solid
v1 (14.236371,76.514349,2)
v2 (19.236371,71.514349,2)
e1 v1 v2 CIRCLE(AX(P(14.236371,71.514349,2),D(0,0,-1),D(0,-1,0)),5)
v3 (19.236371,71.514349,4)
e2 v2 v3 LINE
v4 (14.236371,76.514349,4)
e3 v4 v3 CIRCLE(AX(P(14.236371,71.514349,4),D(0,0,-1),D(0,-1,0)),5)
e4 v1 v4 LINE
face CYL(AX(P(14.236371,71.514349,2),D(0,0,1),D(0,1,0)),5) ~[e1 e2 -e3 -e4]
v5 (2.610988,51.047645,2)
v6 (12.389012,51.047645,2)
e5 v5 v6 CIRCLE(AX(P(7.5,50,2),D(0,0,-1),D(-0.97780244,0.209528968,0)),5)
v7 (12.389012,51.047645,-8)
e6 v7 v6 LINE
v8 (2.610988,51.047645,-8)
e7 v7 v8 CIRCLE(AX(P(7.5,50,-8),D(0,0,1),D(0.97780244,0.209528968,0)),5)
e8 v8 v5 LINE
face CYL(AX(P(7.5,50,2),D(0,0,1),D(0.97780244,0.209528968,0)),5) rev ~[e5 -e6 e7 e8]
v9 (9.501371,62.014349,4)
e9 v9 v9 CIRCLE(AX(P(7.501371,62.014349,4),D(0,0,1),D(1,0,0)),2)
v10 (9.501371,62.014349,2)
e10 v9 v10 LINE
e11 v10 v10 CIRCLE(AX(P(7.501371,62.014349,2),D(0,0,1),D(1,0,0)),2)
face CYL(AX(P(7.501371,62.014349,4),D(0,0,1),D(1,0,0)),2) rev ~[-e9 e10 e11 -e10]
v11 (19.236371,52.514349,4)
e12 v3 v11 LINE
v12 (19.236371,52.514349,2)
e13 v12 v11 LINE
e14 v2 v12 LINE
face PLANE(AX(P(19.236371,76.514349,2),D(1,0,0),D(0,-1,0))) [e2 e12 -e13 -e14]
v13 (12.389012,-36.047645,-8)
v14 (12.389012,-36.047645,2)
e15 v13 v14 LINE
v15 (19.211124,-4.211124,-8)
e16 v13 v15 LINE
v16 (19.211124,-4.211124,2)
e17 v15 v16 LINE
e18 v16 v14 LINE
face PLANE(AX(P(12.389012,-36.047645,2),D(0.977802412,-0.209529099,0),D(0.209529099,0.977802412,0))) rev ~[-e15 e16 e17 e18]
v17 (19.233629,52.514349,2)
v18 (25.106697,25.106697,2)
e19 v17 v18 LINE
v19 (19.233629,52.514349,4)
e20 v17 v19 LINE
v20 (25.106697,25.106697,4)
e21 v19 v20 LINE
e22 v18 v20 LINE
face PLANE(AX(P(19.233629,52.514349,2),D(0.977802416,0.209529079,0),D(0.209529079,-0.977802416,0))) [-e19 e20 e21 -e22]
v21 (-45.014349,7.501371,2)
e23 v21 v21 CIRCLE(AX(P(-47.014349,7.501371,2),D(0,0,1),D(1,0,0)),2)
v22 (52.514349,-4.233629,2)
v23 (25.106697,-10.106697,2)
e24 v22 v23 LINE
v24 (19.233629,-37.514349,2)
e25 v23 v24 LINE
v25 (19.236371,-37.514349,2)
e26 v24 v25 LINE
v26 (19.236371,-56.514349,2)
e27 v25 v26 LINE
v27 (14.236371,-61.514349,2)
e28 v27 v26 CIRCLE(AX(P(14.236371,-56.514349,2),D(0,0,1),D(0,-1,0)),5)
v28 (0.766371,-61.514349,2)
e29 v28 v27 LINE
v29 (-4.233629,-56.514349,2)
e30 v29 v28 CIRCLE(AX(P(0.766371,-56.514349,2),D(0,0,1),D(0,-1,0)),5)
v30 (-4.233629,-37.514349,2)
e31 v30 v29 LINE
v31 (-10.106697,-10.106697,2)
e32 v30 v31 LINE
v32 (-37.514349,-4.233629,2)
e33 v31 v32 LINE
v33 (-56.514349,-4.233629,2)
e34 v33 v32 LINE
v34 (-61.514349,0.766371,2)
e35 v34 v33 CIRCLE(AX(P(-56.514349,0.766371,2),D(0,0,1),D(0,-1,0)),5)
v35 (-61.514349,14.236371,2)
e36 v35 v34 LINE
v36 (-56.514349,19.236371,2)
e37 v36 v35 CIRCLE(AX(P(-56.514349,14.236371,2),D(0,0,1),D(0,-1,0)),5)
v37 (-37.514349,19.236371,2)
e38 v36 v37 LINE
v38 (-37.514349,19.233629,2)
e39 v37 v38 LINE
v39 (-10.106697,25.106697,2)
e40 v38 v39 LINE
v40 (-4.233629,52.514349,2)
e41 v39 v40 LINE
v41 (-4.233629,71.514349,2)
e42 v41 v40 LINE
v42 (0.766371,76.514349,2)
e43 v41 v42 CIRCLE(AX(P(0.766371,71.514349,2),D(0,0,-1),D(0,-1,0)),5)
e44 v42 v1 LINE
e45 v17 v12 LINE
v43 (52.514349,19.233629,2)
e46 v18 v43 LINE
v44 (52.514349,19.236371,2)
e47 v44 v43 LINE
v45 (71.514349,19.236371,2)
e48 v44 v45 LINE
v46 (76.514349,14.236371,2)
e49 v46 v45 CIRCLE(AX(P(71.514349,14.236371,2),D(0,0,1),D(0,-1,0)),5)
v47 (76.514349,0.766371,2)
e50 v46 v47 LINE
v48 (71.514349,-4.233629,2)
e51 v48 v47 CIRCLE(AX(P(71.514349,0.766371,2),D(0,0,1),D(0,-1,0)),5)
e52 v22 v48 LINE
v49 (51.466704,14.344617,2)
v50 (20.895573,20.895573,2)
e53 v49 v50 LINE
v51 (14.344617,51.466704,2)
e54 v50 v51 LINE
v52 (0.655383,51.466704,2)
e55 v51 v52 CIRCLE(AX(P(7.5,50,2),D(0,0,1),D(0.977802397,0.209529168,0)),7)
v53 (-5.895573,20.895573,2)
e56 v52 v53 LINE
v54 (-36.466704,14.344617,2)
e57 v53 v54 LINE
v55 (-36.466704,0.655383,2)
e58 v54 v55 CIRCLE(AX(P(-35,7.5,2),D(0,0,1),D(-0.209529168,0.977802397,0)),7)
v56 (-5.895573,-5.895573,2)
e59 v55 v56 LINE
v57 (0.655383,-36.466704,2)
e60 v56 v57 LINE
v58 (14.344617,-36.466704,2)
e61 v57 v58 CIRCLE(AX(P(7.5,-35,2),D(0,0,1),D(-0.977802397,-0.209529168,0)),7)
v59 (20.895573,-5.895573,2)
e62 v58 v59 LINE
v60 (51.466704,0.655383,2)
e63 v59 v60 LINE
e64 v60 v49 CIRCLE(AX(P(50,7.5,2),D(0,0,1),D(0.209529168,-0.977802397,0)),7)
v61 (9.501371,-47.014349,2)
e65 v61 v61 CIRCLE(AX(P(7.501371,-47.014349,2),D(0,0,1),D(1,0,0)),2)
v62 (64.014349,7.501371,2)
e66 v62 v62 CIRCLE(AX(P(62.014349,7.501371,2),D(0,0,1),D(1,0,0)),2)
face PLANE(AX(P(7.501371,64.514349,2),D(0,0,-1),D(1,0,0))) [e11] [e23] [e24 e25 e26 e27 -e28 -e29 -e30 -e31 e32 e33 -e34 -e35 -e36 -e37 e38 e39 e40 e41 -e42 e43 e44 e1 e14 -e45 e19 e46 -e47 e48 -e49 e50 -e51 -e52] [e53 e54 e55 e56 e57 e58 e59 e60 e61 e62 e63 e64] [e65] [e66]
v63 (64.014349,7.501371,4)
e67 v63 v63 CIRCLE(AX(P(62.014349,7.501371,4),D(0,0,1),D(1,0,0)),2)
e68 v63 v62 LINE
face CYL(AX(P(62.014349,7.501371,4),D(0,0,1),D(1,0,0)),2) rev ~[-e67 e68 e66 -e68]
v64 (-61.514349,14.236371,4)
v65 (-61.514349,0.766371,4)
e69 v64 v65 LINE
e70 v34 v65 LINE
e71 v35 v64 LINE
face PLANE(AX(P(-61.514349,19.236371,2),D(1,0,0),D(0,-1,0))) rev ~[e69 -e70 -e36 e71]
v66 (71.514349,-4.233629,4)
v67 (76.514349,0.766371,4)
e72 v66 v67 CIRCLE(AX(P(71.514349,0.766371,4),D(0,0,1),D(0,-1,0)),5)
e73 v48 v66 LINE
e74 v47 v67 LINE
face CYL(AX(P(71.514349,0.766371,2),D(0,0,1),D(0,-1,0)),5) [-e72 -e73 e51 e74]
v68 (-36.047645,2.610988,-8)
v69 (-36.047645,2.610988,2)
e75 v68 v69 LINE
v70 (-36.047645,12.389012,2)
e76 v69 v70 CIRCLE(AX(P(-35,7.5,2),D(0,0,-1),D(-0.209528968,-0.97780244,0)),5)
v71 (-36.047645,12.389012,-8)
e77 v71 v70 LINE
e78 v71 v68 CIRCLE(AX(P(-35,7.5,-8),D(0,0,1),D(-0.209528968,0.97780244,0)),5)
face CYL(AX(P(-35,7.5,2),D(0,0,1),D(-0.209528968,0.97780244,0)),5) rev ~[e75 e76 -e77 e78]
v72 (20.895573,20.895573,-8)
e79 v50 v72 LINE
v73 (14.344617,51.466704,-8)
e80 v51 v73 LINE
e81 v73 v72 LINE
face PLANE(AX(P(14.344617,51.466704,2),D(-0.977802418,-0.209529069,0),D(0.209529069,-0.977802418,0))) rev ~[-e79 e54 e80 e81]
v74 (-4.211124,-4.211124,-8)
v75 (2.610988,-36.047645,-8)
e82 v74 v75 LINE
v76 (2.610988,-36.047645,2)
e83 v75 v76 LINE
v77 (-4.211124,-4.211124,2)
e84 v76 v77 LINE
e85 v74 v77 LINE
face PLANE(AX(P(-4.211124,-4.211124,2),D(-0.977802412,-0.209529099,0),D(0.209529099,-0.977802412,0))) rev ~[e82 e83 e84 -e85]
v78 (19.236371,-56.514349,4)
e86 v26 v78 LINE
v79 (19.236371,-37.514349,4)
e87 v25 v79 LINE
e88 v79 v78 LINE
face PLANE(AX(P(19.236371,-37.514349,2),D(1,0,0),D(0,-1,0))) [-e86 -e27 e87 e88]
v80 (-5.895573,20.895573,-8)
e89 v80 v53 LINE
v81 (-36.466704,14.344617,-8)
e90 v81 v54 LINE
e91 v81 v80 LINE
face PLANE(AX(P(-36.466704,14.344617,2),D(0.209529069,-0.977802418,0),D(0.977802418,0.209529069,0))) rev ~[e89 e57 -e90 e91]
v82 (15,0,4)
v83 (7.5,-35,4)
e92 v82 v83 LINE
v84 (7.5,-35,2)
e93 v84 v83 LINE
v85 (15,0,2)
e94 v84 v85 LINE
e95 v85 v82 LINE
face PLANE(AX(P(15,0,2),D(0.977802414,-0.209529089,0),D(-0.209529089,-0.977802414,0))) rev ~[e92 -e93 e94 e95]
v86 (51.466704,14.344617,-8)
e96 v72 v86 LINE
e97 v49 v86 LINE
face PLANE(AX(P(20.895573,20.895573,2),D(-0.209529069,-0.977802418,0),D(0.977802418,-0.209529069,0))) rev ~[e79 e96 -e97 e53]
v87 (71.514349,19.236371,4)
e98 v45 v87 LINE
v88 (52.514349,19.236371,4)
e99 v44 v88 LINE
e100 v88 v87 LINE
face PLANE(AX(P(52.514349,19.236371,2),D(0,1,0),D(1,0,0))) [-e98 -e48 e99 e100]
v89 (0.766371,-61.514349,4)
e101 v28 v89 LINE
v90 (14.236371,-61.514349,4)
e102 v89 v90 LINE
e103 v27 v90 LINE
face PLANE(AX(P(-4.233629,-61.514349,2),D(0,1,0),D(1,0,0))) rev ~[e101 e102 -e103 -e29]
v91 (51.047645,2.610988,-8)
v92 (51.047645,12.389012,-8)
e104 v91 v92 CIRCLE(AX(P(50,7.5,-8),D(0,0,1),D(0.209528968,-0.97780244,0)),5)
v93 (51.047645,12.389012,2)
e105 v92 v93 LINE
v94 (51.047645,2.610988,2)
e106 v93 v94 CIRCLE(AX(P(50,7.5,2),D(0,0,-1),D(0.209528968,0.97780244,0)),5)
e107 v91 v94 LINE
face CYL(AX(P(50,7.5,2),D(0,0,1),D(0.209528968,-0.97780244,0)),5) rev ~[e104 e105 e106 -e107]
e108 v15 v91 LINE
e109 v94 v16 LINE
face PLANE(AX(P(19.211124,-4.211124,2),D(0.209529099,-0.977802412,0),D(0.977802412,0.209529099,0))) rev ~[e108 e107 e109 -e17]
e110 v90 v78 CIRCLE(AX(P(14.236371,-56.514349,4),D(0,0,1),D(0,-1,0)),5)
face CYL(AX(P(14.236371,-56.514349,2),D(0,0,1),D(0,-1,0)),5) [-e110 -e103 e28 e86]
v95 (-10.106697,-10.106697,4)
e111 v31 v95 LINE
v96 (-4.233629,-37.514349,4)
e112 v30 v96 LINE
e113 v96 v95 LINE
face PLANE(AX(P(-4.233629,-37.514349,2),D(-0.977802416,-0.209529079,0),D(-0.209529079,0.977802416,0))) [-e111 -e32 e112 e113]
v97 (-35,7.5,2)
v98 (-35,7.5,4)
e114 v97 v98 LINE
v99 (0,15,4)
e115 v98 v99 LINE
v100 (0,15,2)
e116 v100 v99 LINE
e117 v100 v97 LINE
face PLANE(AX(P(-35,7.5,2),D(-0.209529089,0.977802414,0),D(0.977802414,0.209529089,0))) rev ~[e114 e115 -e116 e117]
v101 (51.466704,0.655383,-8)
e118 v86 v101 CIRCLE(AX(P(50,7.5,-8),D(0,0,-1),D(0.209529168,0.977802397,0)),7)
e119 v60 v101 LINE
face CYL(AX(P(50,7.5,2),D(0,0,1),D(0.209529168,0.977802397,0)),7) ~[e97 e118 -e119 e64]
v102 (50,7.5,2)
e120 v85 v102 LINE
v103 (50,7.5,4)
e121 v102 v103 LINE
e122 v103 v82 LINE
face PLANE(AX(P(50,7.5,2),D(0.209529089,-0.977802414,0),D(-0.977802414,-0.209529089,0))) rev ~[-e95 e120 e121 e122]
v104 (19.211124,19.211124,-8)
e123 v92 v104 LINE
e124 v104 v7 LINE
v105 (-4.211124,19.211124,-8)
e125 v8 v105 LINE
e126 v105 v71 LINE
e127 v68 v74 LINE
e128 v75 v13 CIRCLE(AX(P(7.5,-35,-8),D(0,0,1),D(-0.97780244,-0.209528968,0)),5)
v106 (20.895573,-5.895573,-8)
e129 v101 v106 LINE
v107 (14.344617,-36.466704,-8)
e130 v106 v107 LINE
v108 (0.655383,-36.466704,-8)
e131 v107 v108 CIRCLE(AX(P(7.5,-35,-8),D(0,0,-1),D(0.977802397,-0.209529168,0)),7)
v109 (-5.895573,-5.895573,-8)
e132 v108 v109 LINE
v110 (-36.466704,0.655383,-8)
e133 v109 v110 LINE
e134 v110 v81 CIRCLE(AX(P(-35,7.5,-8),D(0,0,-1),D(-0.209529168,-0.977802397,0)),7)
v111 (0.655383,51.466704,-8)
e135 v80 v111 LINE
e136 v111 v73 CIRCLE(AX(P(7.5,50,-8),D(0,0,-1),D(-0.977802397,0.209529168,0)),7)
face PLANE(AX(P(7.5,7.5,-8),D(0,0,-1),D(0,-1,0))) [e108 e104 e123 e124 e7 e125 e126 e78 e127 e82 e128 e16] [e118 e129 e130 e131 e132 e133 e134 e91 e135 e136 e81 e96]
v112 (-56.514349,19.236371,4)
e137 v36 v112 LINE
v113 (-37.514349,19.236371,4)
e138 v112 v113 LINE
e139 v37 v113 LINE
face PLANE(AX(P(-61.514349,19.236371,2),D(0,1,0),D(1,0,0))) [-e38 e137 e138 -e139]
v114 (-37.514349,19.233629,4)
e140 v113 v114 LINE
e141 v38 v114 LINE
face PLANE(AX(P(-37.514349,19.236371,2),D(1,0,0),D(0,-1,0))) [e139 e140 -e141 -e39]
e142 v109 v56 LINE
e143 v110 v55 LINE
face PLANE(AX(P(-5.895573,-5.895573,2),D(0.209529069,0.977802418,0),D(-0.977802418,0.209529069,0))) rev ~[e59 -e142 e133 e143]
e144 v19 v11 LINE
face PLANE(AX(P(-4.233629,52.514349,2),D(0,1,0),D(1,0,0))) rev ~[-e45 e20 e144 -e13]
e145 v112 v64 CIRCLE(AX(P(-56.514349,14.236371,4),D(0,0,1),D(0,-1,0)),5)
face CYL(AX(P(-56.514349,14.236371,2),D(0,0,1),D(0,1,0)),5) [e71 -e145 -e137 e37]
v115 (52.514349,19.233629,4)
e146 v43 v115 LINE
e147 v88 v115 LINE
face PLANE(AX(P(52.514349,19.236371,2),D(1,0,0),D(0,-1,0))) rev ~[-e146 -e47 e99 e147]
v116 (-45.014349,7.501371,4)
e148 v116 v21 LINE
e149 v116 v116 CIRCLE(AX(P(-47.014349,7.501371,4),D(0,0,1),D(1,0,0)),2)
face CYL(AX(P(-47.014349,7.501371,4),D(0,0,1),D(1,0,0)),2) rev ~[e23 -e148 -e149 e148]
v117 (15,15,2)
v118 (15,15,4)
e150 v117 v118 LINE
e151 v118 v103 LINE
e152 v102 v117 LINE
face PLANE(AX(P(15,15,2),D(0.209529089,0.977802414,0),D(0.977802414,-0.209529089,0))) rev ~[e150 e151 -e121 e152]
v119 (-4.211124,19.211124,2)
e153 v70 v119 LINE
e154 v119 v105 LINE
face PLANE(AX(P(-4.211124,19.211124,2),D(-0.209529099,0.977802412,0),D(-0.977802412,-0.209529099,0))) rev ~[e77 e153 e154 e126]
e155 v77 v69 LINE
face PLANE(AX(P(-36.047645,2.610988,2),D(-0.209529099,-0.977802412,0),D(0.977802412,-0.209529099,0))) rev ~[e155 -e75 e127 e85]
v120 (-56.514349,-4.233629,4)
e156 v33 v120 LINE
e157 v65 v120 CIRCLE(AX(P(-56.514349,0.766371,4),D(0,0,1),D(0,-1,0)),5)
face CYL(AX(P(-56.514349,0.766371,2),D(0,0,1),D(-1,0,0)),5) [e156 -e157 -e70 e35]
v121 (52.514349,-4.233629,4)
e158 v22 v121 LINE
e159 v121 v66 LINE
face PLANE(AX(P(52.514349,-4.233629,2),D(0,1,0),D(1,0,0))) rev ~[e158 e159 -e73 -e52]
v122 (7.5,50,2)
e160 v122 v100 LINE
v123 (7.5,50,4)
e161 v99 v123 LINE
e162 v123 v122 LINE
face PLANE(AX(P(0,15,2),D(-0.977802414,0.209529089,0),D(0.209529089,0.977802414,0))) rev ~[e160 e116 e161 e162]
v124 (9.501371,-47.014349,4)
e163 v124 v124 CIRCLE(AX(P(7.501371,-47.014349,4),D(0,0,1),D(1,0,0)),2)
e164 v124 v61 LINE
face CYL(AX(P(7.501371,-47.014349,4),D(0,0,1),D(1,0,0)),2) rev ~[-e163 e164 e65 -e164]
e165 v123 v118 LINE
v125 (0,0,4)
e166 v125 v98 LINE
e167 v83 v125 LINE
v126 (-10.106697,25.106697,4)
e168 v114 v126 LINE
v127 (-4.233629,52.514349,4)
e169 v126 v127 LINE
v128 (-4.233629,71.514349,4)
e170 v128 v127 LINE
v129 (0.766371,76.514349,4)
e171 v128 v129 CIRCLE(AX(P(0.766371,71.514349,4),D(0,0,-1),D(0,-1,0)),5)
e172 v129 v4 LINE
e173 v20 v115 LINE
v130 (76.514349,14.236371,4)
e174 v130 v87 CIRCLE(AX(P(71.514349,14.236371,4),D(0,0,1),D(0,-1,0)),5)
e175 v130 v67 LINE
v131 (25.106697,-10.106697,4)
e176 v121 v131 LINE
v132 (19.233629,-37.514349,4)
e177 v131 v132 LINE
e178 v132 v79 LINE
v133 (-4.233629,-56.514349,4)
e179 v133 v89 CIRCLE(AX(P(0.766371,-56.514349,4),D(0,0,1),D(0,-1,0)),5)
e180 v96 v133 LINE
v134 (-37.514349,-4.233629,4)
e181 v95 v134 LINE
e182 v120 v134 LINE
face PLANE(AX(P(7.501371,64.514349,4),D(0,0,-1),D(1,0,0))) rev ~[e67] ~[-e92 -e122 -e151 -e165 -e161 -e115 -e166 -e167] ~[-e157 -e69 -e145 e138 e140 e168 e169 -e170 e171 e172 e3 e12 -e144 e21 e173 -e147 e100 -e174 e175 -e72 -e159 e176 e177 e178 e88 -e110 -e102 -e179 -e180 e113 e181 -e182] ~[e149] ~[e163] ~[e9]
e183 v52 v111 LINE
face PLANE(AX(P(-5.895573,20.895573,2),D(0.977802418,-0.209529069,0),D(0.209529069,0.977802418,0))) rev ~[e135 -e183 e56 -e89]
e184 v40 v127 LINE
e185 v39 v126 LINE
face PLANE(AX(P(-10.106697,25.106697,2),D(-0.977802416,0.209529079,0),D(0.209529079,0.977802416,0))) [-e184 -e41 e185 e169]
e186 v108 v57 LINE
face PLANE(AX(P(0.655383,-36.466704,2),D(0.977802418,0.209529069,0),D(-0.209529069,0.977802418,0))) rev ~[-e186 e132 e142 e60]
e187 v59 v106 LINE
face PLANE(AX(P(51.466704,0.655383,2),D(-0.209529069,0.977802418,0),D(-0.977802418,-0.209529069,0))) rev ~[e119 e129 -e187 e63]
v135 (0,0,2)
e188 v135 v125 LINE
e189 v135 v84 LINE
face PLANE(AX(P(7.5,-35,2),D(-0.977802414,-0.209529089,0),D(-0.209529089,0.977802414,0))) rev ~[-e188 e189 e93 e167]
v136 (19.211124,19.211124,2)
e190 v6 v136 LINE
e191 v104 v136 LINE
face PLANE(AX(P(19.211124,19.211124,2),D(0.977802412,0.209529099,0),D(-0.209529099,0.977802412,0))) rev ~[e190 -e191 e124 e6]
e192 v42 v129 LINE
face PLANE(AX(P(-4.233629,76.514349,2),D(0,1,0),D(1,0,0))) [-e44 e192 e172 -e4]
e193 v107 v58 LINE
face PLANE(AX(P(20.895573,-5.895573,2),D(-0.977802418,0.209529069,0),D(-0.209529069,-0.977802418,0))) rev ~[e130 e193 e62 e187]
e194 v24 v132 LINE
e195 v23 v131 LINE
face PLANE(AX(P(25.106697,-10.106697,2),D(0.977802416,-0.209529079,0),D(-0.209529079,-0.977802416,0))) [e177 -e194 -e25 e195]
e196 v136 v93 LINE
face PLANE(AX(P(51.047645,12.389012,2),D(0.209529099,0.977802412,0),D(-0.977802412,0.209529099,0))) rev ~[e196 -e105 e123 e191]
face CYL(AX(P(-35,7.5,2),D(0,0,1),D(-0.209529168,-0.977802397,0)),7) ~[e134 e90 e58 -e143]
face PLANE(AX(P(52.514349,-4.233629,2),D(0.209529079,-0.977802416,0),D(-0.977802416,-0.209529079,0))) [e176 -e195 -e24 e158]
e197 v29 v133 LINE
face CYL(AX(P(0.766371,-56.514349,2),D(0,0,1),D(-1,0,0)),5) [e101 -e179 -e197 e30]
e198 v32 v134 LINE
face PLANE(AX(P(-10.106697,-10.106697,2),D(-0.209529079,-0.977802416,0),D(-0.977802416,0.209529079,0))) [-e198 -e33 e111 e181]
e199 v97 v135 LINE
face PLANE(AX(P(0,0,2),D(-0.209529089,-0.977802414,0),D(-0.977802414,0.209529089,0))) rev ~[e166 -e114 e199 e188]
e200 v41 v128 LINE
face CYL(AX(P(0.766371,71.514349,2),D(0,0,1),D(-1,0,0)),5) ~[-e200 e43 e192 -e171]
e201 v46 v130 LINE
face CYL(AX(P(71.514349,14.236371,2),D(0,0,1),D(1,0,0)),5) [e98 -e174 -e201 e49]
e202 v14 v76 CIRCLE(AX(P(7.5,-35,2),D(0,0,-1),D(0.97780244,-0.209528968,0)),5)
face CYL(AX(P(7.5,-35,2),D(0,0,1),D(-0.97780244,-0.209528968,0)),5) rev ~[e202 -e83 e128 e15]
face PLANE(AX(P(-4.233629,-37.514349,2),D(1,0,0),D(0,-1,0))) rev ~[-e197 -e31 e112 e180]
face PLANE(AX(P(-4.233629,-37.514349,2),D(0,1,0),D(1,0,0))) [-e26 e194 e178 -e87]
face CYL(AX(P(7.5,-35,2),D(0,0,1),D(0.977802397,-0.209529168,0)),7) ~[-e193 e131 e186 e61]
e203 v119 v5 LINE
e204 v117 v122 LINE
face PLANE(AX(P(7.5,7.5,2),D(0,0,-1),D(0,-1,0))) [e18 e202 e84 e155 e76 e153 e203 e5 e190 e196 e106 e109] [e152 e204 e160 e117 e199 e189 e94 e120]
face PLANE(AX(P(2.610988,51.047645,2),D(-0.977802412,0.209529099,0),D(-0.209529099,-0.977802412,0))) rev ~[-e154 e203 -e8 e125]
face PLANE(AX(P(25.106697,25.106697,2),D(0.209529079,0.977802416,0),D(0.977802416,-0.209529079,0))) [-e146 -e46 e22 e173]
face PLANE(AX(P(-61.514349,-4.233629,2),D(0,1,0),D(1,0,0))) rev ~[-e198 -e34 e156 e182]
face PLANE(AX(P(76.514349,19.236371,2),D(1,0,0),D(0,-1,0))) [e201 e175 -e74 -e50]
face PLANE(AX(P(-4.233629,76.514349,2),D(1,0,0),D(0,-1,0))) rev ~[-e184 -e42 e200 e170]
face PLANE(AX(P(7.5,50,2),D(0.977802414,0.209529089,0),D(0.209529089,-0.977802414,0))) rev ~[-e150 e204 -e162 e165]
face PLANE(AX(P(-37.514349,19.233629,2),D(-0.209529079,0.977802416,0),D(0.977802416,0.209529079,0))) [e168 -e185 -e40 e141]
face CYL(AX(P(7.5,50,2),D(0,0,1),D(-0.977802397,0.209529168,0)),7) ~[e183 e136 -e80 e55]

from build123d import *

# Parameters (mm, degrees)
PAD_DEPTH       = 2
PAD001_DEPTH    = 2
PAD002_DEPTH    = 12
POCKET_DEPTH    = 2
PAD003_DEPTH    = 2
POCKET001_DEPTH = 2
POCKET002_DEPTH = 2
SKETCH004_W     = 23.47
SKETCH004_H     = 24
SKETCH004_W_2   = 24
SKETCH004_H_2   = 23.47
PAD004_DEPTH    = 2
FILLET_R        = 5
FILLET001_R     = 5
FILLET002_R     = 5
SKETCH005_R     = 2
POCKET003_DEPTH = 5


with BuildPart() as part:
    # Sketch → Pad (new body)
    with BuildSketch(Plane.XY):
        with BuildLine():
            Line((-4.211124, 19.211124), (2.610988, 51.047645))
            ThreePointArc((12.389012, 51.047645), (7.5, 55), (2.610988, 51.047645))
            Line((12.389012, 51.047645), (19.211124, 19.211124))
            Line((51.047645, 12.389012), (19.211124, 19.211124))
            ThreePointArc((51.047645, 2.610988), (55, 7.5), (51.047645, 12.389012))
            Line((19.211124, -4.211124), (51.047645, 2.610988))
            Line((12.389012, -36.047645), (19.211124, -4.211124))
            ThreePointArc((2.610988, -36.047645), (7.5, -40), (12.389012, -36.047645))
            Line((-4.211124, -4.211124), (2.610988, -36.047645))
            Line((-4.211124, -4.211124), (-36.047645, 2.610988))
            ThreePointArc((-36.047645, 12.389012), (-40, 7.5), (-36.047645, 2.610988))
            Line((-36.047645, 12.389012), (-4.211124, 19.211124))
        make_face()
        Polygon((15, 0), (50, 7.5), (15, 15), (7.5, 50), (0, 15), (-35, 7.5), (0, 0), (7.5, -35), align=None, mode=Mode.SUBTRACT)
    extrude(amount=PAD_DEPTH)

    # Sketch002 (on Face22 of Pad) → Pad001 (join)
    with BuildSketch(Plane.XY.offset(2)):
        with BuildLine():
            Line((-5.895573, 20.895573), (0.655383, 51.466704))
            ThreePointArc((14.344617, 51.466704), (7.5, 57), (0.655383, 51.466704))
            Line((14.344617, 51.466704), (20.895573, 20.895573))
            Line((51.466704, 14.344617), (20.895573, 20.895573))
            ThreePointArc((51.466704, 0.655383), (57, 7.5), (51.466704, 14.344617))
            Line((20.895573, -5.895573), (51.466704, 0.655383))
            Line((20.895573, -5.895573), (14.344617, -36.466704))
            ThreePointArc((0.655383, -36.466704), (7.5, -42), (14.344617, -36.466704))
            Line((0.655383, -36.466704), (-5.895573, -5.895573))
            Line((-5.895573, -5.895573), (-36.466704, 0.655383))
            ThreePointArc((-36.466704, 14.344617), (-42, 7.5), (-36.466704, 0.655383))
            Line((-5.895573, 20.895573), (-36.466704, 14.344617))
        make_face()
        Polygon((7.5, 50), (15, 15), (50, 7.5), (15, 0), (7.5, -35), (0, 0), (-35, 7.5), (0, 15), align=None, mode=Mode.SUBTRACT)
    extrude(amount=PAD001_DEPTH)

    # Pad001 Face5 → Pad002 (add)
    with BuildSketch(Plane(origin=(7.5, 7.5, 2), x_dir=(0, -1, 0), z_dir=(0, 0, -1))):
        with BuildLine():
            Line((-13.395573, 13.395573), (-43.966704, 6.844617))
            ThreePointArc((-43.966704, 6.844617), (-49.5, 0), (-43.966704, -6.844617))
            Line((-43.966704, -6.844617), (-13.395573, -13.395573))
            Line((-13.395573, -13.395573), (-6.844617, -43.966704))
            ThreePointArc((-6.844617, -43.966704), (0, -49.5), (6.844617, -43.966704))
            Line((6.844617, -43.966704), (13.395573, -13.395573))
            Line((13.395573, -13.395573), (43.966704, -6.844617))
            ThreePointArc((43.966704, -6.844617), (49.5, 0), (43.966704, 6.844617))
            Line((43.966704, 6.844617), (13.395573, 13.395573))
            Line((13.395573, 13.395573), (6.844617, 43.966704))
            ThreePointArc((6.844617, 43.966704), (0, 49.5), (-6.844617, 43.966704))
            Line((-6.844617, 43.966704), (-13.395573, 13.395573))
        make_face()
        with BuildLine():
            Line((-11.711124, 11.711124), (-4.889012, 43.547645))
            ThreePointArc((-4.889012, 43.547645), (0, 47.5), (4.889012, 43.547645))
            Line((4.889012, 43.547645), (11.711124, 11.711124))
            Line((11.711124, 11.711124), (43.547645, 4.889012))
            ThreePointArc((43.547645, 4.889012), (47.5, 0), (43.547645, -4.889012))
            Line((43.547645, -4.889012), (11.711124, -11.711124))
            Line((11.711124, -11.711124), (4.889012, -43.547645))
            ThreePointArc((4.889012, -43.547645), (0, -47.5), (-4.889012, -43.547645))
            Line((-4.889012, -43.547645), (-11.711124, -11.711124))
            Line((-11.711124, -11.711124), (-43.547645, -4.889012))
            ThreePointArc((-43.547645, -4.889012), (-47.5, 0), (-43.547645, 4.889012))
            Line((-43.547645, 4.889012), (-11.711124, 11.711124))
        make_face(mode=Mode.SUBTRACT)
    extrude(amount=PAD002_DEPTH)

    # Pad002 Face23 → Pocket (cut)
    with BuildSketch(Plane(origin=(7.5, 7.5, 4), x_dir=(0, 1, 0), z_dir=(0, 0, 1))):
        with BuildLine():
            Line((43.966704, 6.844617), (13.395573, 13.395573))
            Line((13.395573, 13.395573), (6.844617, 43.966704))
            ThreePointArc((6.844617, 43.966704), (0, 49.5), (-6.844617, 43.966704))
            Line((-6.844617, 43.966704), (-13.395573, 13.395573))
            Line((-13.395573, 13.395573), (-43.966704, 6.844617))
            ThreePointArc((-43.966704, 6.844617), (-49.5, 0), (-43.966704, -6.844617))
            Line((-43.966704, -6.844617), (-13.395573, -13.395573))
            Line((-13.395573, -13.395573), (-6.844617, -43.966704))
            ThreePointArc((-6.844617, -43.966704), (0, -49.5), (6.844617, -43.966704))
            Line((6.844617, -43.966704), (13.395573, -13.395573))
            Line((13.395573, -13.395573), (43.966704, -6.844617))
            ThreePointArc((43.966704, -6.844617), (49.5, 0), (43.966704, 6.844617))
        make_face()
        Polygon((42.5, 0), (7.5, -7.5), (0, -42.5), (-7.5, -7.5), (-42.5, 0), (-7.5, 7.5), (0, 42.5), (7.5, 7.5), align=None, mode=Mode.SUBTRACT)
    extrude(amount=-POCKET_DEPTH, mode=Mode.SUBTRACT)

    # Sketch003 (on Face23 of Pocket) → Pad003 (join)
    with BuildSketch(Plane.XY.offset(2)):
        with BuildLine():
            Line((-10.106697, 25.106697), (-4.233629, 52.514349))
            ThreePointArc((19.233629, 52.514349), (7.5, 62), (-4.233629, 52.514349))
            Line((19.233629, 52.514349), (25.106697, 25.106697))
            Line((25.106697, 25.106697), (52.514349, 19.233629))
            ThreePointArc((52.514349, -4.233629), (62, 7.5), (52.514349, 19.233629))
            Line((52.514349, -4.233629), (25.106697, -10.106697))
            Line((25.106697, -10.106697), (19.233629, -37.514349))
            ThreePointArc((-4.233629, -37.514349), (7.5, -47), (19.233629, -37.514349))
            Line((-4.233629, -37.514349), (-10.106697, -10.106697))
            Line((-10.106697, -10.106697), (-37.514349, -4.233629))
            ThreePointArc((-37.514349, 19.233629), (-47, 7.5), (-37.514349, -4.233629))
            Line((-37.514349, 19.233629), (-10.106697, 25.106697))
        make_face()
        Polygon((7.5, 50), (15, 15), (50, 7.5), (15, 0), (7.5, -35), (0, 0), (-35, 7.5), (0, 15), align=None, mode=Mode.SUBTRACT)
    extrude(amount=PAD003_DEPTH)

    # Pad003 Face1 → Pocket001 (cut)
    with BuildSketch(Plane(origin=(7.5, 7.5, 0), x_dir=(0, -1, 0), z_dir=(0, 0, -1))):
        with BuildLine():
            Line((-11.711124, 11.711124), (-43.547645, 4.889012))
            ThreePointArc((-43.547645, 4.889012), (-47.5, 0), (-43.547645, -4.889012))
            Line((-43.547645, -4.889012), (-11.711124, -11.711124))
            Line((-11.711124, -11.711124), (-4.889012, -43.547645))
            ThreePointArc((-4.889012, -43.547645), (0, -47.5), (4.889012, -43.547645))
            Line((4.889012, -43.547645), (11.711124, -11.711124))
            Line((11.711124, -11.711124), (43.547645, -4.889012))
            ThreePointArc((43.547645, -4.889012), (47.5, 0), (43.547645, 4.889012))
            Line((43.547645, 4.889012), (11.711124, 11.711124))
            Line((11.711124, 11.711124), (4.889012, 43.547645))
            ThreePointArc((4.889012, 43.547645), (0, 47.5), (-4.889012, 43.547645))
            Line((-4.889012, 43.547645), (-11.711124, 11.711124))
        make_face()
        Polygon((7.5, 7.5), (42.5, 0), (7.5, -7.5), (0, -42.5), (-7.5, -7.5), (-42.5, 0), (-7.5, 7.5), (0, 42.5), align=None, mode=Mode.SUBTRACT)
    extrude(amount=-POCKET001_DEPTH, mode=Mode.SUBTRACT)

    # Pocket001 Face1 → Pocket002 (cut)
    with BuildSketch(Plane(origin=(7.5, 7.5, -10), x_dir=(0, -1, 0), z_dir=(0, 0, -1))):
        with BuildLine():
            Line((-13.395573, 13.395573), (-43.966704, 6.844617))
            ThreePointArc((-43.966704, 6.844617), (-49.5, 0), (-43.966704, -6.844617))
            Line((-43.966704, -6.844617), (-13.395573, -13.395573))
            Line((-13.395573, -13.395573), (-6.844617, -43.966704))
            ThreePointArc((-6.844617, -43.966704), (0, -49.5), (6.844617, -43.966704))
            Line((6.844617, -43.966704), (13.395573, -13.395573))
            Line((13.395573, -13.395573), (43.966704, -6.844617))
            ThreePointArc((43.966704, -6.844617), (49.5, 0), (43.966704, 6.844617))
            Line((43.966704, 6.844617), (13.395573, 13.395573))
            Line((13.395573, 13.395573), (6.844617, 43.966704))
            ThreePointArc((6.844617, 43.966704), (0, 49.5), (-6.844617, 43.966704))
            Line((-6.844617, 43.966704), (-13.395573, 13.395573))
        make_face()
        with BuildLine():
            Line((-11.711124, 11.711124), (-4.889012, 43.547645))
            ThreePointArc((-4.889012, 43.547645), (0, 47.5), (4.889012, 43.547645))
            Line((4.889012, 43.547645), (11.711124, 11.711124))
            Line((11.711124, 11.711124), (43.547645, 4.889012))
            ThreePointArc((43.547645, 4.889012), (47.5, 0), (43.547645, -4.889012))
            Line((43.547645, -4.889012), (11.711124, -11.711124))
            Line((11.711124, -11.711124), (4.889012, -43.547645))
            ThreePointArc((4.889012, -43.547645), (0, -47.5), (-4.889012, -43.547645))
            Line((-4.889012, -43.547645), (-11.711124, -11.711124))
            Line((-11.711124, -11.711124), (-43.547645, -4.889012))
            ThreePointArc((-43.547645, -4.889012), (-47.5, 0), (-43.547645, 4.889012))
            Line((-43.547645, 4.889012), (-11.711124, 11.711124))
        make_face(mode=Mode.SUBTRACT)
    extrude(amount=-POCKET002_DEPTH, mode=Mode.SUBTRACT)

    # Sketch004 (on Face5 of Pocket002) → Pad004 (join)
    with BuildSketch(Plane(origin=(0, 0, 2), x_dir=(1, 0, 0), z_dir=(0, 0, -1))):
        with Locations((7.501371, -64.514349)):
            Rectangle(SKETCH004_W, SKETCH004_H)
        with Locations((64.514349, -7.501371)):
            Rectangle(SKETCH004_W_2, SKETCH004_H_2)
        with Locations((7.501371, 49.514349)):
            Rectangle(SKETCH004_W, SKETCH004_H)
        with Locations((-49.514349, -7.501371)):
            Rectangle(SKETCH004_W_2, SKETCH004_H_2)
    extrude(amount=-PAD004_DEPTH)

    # Fillet
    fillet_edges = [part.edges().sort_by_distance(p)[0] for p in [
        (-61.514349, 19.236371, 3),
        (-61.514349, -4.233629, 3),
    ]]
    fillet(fillet_edges, radius=FILLET_R)

    # Fillet001
    fillet001_edges = [part.edges().sort_by_distance(p)[0] for p in [
        (-4.233629, -61.514349, 3),
        (19.236371, -61.514349, 3),
        (76.514349, -4.233629, 3),
        (76.514349, 19.236371, 3),
    ]]
    fillet(fillet001_edges, radius=FILLET001_R)

    # Fillet002
    fillet002_edges = [part.edges().sort_by_distance(p)[0] for p in [
        (-4.233629, 76.514349, 3),
        (19.236371, 76.514349, 3),
    ]]
    fillet(fillet002_edges, radius=FILLET002_R)

    # Sketch005 (on Face46 of Fillet002) → Pocket003 (cut)
    with BuildSketch(Plane.XY.offset(4)):
        with Locations((7.501371, 62.014349)):
            Circle(SKETCH005_R)
        with Locations((7.501371, -47.014349)):
            Circle(SKETCH005_R)
        with Locations((62.014349, 7.501371)):
            Circle(SKETCH005_R)
        with Locations((-47.014349, 7.501371)):
            Circle(SKETCH005_R)
    extrude(amount=-POCKET003_DEPTH, mode=Mode.SUBTRACT)


solid = part.part
